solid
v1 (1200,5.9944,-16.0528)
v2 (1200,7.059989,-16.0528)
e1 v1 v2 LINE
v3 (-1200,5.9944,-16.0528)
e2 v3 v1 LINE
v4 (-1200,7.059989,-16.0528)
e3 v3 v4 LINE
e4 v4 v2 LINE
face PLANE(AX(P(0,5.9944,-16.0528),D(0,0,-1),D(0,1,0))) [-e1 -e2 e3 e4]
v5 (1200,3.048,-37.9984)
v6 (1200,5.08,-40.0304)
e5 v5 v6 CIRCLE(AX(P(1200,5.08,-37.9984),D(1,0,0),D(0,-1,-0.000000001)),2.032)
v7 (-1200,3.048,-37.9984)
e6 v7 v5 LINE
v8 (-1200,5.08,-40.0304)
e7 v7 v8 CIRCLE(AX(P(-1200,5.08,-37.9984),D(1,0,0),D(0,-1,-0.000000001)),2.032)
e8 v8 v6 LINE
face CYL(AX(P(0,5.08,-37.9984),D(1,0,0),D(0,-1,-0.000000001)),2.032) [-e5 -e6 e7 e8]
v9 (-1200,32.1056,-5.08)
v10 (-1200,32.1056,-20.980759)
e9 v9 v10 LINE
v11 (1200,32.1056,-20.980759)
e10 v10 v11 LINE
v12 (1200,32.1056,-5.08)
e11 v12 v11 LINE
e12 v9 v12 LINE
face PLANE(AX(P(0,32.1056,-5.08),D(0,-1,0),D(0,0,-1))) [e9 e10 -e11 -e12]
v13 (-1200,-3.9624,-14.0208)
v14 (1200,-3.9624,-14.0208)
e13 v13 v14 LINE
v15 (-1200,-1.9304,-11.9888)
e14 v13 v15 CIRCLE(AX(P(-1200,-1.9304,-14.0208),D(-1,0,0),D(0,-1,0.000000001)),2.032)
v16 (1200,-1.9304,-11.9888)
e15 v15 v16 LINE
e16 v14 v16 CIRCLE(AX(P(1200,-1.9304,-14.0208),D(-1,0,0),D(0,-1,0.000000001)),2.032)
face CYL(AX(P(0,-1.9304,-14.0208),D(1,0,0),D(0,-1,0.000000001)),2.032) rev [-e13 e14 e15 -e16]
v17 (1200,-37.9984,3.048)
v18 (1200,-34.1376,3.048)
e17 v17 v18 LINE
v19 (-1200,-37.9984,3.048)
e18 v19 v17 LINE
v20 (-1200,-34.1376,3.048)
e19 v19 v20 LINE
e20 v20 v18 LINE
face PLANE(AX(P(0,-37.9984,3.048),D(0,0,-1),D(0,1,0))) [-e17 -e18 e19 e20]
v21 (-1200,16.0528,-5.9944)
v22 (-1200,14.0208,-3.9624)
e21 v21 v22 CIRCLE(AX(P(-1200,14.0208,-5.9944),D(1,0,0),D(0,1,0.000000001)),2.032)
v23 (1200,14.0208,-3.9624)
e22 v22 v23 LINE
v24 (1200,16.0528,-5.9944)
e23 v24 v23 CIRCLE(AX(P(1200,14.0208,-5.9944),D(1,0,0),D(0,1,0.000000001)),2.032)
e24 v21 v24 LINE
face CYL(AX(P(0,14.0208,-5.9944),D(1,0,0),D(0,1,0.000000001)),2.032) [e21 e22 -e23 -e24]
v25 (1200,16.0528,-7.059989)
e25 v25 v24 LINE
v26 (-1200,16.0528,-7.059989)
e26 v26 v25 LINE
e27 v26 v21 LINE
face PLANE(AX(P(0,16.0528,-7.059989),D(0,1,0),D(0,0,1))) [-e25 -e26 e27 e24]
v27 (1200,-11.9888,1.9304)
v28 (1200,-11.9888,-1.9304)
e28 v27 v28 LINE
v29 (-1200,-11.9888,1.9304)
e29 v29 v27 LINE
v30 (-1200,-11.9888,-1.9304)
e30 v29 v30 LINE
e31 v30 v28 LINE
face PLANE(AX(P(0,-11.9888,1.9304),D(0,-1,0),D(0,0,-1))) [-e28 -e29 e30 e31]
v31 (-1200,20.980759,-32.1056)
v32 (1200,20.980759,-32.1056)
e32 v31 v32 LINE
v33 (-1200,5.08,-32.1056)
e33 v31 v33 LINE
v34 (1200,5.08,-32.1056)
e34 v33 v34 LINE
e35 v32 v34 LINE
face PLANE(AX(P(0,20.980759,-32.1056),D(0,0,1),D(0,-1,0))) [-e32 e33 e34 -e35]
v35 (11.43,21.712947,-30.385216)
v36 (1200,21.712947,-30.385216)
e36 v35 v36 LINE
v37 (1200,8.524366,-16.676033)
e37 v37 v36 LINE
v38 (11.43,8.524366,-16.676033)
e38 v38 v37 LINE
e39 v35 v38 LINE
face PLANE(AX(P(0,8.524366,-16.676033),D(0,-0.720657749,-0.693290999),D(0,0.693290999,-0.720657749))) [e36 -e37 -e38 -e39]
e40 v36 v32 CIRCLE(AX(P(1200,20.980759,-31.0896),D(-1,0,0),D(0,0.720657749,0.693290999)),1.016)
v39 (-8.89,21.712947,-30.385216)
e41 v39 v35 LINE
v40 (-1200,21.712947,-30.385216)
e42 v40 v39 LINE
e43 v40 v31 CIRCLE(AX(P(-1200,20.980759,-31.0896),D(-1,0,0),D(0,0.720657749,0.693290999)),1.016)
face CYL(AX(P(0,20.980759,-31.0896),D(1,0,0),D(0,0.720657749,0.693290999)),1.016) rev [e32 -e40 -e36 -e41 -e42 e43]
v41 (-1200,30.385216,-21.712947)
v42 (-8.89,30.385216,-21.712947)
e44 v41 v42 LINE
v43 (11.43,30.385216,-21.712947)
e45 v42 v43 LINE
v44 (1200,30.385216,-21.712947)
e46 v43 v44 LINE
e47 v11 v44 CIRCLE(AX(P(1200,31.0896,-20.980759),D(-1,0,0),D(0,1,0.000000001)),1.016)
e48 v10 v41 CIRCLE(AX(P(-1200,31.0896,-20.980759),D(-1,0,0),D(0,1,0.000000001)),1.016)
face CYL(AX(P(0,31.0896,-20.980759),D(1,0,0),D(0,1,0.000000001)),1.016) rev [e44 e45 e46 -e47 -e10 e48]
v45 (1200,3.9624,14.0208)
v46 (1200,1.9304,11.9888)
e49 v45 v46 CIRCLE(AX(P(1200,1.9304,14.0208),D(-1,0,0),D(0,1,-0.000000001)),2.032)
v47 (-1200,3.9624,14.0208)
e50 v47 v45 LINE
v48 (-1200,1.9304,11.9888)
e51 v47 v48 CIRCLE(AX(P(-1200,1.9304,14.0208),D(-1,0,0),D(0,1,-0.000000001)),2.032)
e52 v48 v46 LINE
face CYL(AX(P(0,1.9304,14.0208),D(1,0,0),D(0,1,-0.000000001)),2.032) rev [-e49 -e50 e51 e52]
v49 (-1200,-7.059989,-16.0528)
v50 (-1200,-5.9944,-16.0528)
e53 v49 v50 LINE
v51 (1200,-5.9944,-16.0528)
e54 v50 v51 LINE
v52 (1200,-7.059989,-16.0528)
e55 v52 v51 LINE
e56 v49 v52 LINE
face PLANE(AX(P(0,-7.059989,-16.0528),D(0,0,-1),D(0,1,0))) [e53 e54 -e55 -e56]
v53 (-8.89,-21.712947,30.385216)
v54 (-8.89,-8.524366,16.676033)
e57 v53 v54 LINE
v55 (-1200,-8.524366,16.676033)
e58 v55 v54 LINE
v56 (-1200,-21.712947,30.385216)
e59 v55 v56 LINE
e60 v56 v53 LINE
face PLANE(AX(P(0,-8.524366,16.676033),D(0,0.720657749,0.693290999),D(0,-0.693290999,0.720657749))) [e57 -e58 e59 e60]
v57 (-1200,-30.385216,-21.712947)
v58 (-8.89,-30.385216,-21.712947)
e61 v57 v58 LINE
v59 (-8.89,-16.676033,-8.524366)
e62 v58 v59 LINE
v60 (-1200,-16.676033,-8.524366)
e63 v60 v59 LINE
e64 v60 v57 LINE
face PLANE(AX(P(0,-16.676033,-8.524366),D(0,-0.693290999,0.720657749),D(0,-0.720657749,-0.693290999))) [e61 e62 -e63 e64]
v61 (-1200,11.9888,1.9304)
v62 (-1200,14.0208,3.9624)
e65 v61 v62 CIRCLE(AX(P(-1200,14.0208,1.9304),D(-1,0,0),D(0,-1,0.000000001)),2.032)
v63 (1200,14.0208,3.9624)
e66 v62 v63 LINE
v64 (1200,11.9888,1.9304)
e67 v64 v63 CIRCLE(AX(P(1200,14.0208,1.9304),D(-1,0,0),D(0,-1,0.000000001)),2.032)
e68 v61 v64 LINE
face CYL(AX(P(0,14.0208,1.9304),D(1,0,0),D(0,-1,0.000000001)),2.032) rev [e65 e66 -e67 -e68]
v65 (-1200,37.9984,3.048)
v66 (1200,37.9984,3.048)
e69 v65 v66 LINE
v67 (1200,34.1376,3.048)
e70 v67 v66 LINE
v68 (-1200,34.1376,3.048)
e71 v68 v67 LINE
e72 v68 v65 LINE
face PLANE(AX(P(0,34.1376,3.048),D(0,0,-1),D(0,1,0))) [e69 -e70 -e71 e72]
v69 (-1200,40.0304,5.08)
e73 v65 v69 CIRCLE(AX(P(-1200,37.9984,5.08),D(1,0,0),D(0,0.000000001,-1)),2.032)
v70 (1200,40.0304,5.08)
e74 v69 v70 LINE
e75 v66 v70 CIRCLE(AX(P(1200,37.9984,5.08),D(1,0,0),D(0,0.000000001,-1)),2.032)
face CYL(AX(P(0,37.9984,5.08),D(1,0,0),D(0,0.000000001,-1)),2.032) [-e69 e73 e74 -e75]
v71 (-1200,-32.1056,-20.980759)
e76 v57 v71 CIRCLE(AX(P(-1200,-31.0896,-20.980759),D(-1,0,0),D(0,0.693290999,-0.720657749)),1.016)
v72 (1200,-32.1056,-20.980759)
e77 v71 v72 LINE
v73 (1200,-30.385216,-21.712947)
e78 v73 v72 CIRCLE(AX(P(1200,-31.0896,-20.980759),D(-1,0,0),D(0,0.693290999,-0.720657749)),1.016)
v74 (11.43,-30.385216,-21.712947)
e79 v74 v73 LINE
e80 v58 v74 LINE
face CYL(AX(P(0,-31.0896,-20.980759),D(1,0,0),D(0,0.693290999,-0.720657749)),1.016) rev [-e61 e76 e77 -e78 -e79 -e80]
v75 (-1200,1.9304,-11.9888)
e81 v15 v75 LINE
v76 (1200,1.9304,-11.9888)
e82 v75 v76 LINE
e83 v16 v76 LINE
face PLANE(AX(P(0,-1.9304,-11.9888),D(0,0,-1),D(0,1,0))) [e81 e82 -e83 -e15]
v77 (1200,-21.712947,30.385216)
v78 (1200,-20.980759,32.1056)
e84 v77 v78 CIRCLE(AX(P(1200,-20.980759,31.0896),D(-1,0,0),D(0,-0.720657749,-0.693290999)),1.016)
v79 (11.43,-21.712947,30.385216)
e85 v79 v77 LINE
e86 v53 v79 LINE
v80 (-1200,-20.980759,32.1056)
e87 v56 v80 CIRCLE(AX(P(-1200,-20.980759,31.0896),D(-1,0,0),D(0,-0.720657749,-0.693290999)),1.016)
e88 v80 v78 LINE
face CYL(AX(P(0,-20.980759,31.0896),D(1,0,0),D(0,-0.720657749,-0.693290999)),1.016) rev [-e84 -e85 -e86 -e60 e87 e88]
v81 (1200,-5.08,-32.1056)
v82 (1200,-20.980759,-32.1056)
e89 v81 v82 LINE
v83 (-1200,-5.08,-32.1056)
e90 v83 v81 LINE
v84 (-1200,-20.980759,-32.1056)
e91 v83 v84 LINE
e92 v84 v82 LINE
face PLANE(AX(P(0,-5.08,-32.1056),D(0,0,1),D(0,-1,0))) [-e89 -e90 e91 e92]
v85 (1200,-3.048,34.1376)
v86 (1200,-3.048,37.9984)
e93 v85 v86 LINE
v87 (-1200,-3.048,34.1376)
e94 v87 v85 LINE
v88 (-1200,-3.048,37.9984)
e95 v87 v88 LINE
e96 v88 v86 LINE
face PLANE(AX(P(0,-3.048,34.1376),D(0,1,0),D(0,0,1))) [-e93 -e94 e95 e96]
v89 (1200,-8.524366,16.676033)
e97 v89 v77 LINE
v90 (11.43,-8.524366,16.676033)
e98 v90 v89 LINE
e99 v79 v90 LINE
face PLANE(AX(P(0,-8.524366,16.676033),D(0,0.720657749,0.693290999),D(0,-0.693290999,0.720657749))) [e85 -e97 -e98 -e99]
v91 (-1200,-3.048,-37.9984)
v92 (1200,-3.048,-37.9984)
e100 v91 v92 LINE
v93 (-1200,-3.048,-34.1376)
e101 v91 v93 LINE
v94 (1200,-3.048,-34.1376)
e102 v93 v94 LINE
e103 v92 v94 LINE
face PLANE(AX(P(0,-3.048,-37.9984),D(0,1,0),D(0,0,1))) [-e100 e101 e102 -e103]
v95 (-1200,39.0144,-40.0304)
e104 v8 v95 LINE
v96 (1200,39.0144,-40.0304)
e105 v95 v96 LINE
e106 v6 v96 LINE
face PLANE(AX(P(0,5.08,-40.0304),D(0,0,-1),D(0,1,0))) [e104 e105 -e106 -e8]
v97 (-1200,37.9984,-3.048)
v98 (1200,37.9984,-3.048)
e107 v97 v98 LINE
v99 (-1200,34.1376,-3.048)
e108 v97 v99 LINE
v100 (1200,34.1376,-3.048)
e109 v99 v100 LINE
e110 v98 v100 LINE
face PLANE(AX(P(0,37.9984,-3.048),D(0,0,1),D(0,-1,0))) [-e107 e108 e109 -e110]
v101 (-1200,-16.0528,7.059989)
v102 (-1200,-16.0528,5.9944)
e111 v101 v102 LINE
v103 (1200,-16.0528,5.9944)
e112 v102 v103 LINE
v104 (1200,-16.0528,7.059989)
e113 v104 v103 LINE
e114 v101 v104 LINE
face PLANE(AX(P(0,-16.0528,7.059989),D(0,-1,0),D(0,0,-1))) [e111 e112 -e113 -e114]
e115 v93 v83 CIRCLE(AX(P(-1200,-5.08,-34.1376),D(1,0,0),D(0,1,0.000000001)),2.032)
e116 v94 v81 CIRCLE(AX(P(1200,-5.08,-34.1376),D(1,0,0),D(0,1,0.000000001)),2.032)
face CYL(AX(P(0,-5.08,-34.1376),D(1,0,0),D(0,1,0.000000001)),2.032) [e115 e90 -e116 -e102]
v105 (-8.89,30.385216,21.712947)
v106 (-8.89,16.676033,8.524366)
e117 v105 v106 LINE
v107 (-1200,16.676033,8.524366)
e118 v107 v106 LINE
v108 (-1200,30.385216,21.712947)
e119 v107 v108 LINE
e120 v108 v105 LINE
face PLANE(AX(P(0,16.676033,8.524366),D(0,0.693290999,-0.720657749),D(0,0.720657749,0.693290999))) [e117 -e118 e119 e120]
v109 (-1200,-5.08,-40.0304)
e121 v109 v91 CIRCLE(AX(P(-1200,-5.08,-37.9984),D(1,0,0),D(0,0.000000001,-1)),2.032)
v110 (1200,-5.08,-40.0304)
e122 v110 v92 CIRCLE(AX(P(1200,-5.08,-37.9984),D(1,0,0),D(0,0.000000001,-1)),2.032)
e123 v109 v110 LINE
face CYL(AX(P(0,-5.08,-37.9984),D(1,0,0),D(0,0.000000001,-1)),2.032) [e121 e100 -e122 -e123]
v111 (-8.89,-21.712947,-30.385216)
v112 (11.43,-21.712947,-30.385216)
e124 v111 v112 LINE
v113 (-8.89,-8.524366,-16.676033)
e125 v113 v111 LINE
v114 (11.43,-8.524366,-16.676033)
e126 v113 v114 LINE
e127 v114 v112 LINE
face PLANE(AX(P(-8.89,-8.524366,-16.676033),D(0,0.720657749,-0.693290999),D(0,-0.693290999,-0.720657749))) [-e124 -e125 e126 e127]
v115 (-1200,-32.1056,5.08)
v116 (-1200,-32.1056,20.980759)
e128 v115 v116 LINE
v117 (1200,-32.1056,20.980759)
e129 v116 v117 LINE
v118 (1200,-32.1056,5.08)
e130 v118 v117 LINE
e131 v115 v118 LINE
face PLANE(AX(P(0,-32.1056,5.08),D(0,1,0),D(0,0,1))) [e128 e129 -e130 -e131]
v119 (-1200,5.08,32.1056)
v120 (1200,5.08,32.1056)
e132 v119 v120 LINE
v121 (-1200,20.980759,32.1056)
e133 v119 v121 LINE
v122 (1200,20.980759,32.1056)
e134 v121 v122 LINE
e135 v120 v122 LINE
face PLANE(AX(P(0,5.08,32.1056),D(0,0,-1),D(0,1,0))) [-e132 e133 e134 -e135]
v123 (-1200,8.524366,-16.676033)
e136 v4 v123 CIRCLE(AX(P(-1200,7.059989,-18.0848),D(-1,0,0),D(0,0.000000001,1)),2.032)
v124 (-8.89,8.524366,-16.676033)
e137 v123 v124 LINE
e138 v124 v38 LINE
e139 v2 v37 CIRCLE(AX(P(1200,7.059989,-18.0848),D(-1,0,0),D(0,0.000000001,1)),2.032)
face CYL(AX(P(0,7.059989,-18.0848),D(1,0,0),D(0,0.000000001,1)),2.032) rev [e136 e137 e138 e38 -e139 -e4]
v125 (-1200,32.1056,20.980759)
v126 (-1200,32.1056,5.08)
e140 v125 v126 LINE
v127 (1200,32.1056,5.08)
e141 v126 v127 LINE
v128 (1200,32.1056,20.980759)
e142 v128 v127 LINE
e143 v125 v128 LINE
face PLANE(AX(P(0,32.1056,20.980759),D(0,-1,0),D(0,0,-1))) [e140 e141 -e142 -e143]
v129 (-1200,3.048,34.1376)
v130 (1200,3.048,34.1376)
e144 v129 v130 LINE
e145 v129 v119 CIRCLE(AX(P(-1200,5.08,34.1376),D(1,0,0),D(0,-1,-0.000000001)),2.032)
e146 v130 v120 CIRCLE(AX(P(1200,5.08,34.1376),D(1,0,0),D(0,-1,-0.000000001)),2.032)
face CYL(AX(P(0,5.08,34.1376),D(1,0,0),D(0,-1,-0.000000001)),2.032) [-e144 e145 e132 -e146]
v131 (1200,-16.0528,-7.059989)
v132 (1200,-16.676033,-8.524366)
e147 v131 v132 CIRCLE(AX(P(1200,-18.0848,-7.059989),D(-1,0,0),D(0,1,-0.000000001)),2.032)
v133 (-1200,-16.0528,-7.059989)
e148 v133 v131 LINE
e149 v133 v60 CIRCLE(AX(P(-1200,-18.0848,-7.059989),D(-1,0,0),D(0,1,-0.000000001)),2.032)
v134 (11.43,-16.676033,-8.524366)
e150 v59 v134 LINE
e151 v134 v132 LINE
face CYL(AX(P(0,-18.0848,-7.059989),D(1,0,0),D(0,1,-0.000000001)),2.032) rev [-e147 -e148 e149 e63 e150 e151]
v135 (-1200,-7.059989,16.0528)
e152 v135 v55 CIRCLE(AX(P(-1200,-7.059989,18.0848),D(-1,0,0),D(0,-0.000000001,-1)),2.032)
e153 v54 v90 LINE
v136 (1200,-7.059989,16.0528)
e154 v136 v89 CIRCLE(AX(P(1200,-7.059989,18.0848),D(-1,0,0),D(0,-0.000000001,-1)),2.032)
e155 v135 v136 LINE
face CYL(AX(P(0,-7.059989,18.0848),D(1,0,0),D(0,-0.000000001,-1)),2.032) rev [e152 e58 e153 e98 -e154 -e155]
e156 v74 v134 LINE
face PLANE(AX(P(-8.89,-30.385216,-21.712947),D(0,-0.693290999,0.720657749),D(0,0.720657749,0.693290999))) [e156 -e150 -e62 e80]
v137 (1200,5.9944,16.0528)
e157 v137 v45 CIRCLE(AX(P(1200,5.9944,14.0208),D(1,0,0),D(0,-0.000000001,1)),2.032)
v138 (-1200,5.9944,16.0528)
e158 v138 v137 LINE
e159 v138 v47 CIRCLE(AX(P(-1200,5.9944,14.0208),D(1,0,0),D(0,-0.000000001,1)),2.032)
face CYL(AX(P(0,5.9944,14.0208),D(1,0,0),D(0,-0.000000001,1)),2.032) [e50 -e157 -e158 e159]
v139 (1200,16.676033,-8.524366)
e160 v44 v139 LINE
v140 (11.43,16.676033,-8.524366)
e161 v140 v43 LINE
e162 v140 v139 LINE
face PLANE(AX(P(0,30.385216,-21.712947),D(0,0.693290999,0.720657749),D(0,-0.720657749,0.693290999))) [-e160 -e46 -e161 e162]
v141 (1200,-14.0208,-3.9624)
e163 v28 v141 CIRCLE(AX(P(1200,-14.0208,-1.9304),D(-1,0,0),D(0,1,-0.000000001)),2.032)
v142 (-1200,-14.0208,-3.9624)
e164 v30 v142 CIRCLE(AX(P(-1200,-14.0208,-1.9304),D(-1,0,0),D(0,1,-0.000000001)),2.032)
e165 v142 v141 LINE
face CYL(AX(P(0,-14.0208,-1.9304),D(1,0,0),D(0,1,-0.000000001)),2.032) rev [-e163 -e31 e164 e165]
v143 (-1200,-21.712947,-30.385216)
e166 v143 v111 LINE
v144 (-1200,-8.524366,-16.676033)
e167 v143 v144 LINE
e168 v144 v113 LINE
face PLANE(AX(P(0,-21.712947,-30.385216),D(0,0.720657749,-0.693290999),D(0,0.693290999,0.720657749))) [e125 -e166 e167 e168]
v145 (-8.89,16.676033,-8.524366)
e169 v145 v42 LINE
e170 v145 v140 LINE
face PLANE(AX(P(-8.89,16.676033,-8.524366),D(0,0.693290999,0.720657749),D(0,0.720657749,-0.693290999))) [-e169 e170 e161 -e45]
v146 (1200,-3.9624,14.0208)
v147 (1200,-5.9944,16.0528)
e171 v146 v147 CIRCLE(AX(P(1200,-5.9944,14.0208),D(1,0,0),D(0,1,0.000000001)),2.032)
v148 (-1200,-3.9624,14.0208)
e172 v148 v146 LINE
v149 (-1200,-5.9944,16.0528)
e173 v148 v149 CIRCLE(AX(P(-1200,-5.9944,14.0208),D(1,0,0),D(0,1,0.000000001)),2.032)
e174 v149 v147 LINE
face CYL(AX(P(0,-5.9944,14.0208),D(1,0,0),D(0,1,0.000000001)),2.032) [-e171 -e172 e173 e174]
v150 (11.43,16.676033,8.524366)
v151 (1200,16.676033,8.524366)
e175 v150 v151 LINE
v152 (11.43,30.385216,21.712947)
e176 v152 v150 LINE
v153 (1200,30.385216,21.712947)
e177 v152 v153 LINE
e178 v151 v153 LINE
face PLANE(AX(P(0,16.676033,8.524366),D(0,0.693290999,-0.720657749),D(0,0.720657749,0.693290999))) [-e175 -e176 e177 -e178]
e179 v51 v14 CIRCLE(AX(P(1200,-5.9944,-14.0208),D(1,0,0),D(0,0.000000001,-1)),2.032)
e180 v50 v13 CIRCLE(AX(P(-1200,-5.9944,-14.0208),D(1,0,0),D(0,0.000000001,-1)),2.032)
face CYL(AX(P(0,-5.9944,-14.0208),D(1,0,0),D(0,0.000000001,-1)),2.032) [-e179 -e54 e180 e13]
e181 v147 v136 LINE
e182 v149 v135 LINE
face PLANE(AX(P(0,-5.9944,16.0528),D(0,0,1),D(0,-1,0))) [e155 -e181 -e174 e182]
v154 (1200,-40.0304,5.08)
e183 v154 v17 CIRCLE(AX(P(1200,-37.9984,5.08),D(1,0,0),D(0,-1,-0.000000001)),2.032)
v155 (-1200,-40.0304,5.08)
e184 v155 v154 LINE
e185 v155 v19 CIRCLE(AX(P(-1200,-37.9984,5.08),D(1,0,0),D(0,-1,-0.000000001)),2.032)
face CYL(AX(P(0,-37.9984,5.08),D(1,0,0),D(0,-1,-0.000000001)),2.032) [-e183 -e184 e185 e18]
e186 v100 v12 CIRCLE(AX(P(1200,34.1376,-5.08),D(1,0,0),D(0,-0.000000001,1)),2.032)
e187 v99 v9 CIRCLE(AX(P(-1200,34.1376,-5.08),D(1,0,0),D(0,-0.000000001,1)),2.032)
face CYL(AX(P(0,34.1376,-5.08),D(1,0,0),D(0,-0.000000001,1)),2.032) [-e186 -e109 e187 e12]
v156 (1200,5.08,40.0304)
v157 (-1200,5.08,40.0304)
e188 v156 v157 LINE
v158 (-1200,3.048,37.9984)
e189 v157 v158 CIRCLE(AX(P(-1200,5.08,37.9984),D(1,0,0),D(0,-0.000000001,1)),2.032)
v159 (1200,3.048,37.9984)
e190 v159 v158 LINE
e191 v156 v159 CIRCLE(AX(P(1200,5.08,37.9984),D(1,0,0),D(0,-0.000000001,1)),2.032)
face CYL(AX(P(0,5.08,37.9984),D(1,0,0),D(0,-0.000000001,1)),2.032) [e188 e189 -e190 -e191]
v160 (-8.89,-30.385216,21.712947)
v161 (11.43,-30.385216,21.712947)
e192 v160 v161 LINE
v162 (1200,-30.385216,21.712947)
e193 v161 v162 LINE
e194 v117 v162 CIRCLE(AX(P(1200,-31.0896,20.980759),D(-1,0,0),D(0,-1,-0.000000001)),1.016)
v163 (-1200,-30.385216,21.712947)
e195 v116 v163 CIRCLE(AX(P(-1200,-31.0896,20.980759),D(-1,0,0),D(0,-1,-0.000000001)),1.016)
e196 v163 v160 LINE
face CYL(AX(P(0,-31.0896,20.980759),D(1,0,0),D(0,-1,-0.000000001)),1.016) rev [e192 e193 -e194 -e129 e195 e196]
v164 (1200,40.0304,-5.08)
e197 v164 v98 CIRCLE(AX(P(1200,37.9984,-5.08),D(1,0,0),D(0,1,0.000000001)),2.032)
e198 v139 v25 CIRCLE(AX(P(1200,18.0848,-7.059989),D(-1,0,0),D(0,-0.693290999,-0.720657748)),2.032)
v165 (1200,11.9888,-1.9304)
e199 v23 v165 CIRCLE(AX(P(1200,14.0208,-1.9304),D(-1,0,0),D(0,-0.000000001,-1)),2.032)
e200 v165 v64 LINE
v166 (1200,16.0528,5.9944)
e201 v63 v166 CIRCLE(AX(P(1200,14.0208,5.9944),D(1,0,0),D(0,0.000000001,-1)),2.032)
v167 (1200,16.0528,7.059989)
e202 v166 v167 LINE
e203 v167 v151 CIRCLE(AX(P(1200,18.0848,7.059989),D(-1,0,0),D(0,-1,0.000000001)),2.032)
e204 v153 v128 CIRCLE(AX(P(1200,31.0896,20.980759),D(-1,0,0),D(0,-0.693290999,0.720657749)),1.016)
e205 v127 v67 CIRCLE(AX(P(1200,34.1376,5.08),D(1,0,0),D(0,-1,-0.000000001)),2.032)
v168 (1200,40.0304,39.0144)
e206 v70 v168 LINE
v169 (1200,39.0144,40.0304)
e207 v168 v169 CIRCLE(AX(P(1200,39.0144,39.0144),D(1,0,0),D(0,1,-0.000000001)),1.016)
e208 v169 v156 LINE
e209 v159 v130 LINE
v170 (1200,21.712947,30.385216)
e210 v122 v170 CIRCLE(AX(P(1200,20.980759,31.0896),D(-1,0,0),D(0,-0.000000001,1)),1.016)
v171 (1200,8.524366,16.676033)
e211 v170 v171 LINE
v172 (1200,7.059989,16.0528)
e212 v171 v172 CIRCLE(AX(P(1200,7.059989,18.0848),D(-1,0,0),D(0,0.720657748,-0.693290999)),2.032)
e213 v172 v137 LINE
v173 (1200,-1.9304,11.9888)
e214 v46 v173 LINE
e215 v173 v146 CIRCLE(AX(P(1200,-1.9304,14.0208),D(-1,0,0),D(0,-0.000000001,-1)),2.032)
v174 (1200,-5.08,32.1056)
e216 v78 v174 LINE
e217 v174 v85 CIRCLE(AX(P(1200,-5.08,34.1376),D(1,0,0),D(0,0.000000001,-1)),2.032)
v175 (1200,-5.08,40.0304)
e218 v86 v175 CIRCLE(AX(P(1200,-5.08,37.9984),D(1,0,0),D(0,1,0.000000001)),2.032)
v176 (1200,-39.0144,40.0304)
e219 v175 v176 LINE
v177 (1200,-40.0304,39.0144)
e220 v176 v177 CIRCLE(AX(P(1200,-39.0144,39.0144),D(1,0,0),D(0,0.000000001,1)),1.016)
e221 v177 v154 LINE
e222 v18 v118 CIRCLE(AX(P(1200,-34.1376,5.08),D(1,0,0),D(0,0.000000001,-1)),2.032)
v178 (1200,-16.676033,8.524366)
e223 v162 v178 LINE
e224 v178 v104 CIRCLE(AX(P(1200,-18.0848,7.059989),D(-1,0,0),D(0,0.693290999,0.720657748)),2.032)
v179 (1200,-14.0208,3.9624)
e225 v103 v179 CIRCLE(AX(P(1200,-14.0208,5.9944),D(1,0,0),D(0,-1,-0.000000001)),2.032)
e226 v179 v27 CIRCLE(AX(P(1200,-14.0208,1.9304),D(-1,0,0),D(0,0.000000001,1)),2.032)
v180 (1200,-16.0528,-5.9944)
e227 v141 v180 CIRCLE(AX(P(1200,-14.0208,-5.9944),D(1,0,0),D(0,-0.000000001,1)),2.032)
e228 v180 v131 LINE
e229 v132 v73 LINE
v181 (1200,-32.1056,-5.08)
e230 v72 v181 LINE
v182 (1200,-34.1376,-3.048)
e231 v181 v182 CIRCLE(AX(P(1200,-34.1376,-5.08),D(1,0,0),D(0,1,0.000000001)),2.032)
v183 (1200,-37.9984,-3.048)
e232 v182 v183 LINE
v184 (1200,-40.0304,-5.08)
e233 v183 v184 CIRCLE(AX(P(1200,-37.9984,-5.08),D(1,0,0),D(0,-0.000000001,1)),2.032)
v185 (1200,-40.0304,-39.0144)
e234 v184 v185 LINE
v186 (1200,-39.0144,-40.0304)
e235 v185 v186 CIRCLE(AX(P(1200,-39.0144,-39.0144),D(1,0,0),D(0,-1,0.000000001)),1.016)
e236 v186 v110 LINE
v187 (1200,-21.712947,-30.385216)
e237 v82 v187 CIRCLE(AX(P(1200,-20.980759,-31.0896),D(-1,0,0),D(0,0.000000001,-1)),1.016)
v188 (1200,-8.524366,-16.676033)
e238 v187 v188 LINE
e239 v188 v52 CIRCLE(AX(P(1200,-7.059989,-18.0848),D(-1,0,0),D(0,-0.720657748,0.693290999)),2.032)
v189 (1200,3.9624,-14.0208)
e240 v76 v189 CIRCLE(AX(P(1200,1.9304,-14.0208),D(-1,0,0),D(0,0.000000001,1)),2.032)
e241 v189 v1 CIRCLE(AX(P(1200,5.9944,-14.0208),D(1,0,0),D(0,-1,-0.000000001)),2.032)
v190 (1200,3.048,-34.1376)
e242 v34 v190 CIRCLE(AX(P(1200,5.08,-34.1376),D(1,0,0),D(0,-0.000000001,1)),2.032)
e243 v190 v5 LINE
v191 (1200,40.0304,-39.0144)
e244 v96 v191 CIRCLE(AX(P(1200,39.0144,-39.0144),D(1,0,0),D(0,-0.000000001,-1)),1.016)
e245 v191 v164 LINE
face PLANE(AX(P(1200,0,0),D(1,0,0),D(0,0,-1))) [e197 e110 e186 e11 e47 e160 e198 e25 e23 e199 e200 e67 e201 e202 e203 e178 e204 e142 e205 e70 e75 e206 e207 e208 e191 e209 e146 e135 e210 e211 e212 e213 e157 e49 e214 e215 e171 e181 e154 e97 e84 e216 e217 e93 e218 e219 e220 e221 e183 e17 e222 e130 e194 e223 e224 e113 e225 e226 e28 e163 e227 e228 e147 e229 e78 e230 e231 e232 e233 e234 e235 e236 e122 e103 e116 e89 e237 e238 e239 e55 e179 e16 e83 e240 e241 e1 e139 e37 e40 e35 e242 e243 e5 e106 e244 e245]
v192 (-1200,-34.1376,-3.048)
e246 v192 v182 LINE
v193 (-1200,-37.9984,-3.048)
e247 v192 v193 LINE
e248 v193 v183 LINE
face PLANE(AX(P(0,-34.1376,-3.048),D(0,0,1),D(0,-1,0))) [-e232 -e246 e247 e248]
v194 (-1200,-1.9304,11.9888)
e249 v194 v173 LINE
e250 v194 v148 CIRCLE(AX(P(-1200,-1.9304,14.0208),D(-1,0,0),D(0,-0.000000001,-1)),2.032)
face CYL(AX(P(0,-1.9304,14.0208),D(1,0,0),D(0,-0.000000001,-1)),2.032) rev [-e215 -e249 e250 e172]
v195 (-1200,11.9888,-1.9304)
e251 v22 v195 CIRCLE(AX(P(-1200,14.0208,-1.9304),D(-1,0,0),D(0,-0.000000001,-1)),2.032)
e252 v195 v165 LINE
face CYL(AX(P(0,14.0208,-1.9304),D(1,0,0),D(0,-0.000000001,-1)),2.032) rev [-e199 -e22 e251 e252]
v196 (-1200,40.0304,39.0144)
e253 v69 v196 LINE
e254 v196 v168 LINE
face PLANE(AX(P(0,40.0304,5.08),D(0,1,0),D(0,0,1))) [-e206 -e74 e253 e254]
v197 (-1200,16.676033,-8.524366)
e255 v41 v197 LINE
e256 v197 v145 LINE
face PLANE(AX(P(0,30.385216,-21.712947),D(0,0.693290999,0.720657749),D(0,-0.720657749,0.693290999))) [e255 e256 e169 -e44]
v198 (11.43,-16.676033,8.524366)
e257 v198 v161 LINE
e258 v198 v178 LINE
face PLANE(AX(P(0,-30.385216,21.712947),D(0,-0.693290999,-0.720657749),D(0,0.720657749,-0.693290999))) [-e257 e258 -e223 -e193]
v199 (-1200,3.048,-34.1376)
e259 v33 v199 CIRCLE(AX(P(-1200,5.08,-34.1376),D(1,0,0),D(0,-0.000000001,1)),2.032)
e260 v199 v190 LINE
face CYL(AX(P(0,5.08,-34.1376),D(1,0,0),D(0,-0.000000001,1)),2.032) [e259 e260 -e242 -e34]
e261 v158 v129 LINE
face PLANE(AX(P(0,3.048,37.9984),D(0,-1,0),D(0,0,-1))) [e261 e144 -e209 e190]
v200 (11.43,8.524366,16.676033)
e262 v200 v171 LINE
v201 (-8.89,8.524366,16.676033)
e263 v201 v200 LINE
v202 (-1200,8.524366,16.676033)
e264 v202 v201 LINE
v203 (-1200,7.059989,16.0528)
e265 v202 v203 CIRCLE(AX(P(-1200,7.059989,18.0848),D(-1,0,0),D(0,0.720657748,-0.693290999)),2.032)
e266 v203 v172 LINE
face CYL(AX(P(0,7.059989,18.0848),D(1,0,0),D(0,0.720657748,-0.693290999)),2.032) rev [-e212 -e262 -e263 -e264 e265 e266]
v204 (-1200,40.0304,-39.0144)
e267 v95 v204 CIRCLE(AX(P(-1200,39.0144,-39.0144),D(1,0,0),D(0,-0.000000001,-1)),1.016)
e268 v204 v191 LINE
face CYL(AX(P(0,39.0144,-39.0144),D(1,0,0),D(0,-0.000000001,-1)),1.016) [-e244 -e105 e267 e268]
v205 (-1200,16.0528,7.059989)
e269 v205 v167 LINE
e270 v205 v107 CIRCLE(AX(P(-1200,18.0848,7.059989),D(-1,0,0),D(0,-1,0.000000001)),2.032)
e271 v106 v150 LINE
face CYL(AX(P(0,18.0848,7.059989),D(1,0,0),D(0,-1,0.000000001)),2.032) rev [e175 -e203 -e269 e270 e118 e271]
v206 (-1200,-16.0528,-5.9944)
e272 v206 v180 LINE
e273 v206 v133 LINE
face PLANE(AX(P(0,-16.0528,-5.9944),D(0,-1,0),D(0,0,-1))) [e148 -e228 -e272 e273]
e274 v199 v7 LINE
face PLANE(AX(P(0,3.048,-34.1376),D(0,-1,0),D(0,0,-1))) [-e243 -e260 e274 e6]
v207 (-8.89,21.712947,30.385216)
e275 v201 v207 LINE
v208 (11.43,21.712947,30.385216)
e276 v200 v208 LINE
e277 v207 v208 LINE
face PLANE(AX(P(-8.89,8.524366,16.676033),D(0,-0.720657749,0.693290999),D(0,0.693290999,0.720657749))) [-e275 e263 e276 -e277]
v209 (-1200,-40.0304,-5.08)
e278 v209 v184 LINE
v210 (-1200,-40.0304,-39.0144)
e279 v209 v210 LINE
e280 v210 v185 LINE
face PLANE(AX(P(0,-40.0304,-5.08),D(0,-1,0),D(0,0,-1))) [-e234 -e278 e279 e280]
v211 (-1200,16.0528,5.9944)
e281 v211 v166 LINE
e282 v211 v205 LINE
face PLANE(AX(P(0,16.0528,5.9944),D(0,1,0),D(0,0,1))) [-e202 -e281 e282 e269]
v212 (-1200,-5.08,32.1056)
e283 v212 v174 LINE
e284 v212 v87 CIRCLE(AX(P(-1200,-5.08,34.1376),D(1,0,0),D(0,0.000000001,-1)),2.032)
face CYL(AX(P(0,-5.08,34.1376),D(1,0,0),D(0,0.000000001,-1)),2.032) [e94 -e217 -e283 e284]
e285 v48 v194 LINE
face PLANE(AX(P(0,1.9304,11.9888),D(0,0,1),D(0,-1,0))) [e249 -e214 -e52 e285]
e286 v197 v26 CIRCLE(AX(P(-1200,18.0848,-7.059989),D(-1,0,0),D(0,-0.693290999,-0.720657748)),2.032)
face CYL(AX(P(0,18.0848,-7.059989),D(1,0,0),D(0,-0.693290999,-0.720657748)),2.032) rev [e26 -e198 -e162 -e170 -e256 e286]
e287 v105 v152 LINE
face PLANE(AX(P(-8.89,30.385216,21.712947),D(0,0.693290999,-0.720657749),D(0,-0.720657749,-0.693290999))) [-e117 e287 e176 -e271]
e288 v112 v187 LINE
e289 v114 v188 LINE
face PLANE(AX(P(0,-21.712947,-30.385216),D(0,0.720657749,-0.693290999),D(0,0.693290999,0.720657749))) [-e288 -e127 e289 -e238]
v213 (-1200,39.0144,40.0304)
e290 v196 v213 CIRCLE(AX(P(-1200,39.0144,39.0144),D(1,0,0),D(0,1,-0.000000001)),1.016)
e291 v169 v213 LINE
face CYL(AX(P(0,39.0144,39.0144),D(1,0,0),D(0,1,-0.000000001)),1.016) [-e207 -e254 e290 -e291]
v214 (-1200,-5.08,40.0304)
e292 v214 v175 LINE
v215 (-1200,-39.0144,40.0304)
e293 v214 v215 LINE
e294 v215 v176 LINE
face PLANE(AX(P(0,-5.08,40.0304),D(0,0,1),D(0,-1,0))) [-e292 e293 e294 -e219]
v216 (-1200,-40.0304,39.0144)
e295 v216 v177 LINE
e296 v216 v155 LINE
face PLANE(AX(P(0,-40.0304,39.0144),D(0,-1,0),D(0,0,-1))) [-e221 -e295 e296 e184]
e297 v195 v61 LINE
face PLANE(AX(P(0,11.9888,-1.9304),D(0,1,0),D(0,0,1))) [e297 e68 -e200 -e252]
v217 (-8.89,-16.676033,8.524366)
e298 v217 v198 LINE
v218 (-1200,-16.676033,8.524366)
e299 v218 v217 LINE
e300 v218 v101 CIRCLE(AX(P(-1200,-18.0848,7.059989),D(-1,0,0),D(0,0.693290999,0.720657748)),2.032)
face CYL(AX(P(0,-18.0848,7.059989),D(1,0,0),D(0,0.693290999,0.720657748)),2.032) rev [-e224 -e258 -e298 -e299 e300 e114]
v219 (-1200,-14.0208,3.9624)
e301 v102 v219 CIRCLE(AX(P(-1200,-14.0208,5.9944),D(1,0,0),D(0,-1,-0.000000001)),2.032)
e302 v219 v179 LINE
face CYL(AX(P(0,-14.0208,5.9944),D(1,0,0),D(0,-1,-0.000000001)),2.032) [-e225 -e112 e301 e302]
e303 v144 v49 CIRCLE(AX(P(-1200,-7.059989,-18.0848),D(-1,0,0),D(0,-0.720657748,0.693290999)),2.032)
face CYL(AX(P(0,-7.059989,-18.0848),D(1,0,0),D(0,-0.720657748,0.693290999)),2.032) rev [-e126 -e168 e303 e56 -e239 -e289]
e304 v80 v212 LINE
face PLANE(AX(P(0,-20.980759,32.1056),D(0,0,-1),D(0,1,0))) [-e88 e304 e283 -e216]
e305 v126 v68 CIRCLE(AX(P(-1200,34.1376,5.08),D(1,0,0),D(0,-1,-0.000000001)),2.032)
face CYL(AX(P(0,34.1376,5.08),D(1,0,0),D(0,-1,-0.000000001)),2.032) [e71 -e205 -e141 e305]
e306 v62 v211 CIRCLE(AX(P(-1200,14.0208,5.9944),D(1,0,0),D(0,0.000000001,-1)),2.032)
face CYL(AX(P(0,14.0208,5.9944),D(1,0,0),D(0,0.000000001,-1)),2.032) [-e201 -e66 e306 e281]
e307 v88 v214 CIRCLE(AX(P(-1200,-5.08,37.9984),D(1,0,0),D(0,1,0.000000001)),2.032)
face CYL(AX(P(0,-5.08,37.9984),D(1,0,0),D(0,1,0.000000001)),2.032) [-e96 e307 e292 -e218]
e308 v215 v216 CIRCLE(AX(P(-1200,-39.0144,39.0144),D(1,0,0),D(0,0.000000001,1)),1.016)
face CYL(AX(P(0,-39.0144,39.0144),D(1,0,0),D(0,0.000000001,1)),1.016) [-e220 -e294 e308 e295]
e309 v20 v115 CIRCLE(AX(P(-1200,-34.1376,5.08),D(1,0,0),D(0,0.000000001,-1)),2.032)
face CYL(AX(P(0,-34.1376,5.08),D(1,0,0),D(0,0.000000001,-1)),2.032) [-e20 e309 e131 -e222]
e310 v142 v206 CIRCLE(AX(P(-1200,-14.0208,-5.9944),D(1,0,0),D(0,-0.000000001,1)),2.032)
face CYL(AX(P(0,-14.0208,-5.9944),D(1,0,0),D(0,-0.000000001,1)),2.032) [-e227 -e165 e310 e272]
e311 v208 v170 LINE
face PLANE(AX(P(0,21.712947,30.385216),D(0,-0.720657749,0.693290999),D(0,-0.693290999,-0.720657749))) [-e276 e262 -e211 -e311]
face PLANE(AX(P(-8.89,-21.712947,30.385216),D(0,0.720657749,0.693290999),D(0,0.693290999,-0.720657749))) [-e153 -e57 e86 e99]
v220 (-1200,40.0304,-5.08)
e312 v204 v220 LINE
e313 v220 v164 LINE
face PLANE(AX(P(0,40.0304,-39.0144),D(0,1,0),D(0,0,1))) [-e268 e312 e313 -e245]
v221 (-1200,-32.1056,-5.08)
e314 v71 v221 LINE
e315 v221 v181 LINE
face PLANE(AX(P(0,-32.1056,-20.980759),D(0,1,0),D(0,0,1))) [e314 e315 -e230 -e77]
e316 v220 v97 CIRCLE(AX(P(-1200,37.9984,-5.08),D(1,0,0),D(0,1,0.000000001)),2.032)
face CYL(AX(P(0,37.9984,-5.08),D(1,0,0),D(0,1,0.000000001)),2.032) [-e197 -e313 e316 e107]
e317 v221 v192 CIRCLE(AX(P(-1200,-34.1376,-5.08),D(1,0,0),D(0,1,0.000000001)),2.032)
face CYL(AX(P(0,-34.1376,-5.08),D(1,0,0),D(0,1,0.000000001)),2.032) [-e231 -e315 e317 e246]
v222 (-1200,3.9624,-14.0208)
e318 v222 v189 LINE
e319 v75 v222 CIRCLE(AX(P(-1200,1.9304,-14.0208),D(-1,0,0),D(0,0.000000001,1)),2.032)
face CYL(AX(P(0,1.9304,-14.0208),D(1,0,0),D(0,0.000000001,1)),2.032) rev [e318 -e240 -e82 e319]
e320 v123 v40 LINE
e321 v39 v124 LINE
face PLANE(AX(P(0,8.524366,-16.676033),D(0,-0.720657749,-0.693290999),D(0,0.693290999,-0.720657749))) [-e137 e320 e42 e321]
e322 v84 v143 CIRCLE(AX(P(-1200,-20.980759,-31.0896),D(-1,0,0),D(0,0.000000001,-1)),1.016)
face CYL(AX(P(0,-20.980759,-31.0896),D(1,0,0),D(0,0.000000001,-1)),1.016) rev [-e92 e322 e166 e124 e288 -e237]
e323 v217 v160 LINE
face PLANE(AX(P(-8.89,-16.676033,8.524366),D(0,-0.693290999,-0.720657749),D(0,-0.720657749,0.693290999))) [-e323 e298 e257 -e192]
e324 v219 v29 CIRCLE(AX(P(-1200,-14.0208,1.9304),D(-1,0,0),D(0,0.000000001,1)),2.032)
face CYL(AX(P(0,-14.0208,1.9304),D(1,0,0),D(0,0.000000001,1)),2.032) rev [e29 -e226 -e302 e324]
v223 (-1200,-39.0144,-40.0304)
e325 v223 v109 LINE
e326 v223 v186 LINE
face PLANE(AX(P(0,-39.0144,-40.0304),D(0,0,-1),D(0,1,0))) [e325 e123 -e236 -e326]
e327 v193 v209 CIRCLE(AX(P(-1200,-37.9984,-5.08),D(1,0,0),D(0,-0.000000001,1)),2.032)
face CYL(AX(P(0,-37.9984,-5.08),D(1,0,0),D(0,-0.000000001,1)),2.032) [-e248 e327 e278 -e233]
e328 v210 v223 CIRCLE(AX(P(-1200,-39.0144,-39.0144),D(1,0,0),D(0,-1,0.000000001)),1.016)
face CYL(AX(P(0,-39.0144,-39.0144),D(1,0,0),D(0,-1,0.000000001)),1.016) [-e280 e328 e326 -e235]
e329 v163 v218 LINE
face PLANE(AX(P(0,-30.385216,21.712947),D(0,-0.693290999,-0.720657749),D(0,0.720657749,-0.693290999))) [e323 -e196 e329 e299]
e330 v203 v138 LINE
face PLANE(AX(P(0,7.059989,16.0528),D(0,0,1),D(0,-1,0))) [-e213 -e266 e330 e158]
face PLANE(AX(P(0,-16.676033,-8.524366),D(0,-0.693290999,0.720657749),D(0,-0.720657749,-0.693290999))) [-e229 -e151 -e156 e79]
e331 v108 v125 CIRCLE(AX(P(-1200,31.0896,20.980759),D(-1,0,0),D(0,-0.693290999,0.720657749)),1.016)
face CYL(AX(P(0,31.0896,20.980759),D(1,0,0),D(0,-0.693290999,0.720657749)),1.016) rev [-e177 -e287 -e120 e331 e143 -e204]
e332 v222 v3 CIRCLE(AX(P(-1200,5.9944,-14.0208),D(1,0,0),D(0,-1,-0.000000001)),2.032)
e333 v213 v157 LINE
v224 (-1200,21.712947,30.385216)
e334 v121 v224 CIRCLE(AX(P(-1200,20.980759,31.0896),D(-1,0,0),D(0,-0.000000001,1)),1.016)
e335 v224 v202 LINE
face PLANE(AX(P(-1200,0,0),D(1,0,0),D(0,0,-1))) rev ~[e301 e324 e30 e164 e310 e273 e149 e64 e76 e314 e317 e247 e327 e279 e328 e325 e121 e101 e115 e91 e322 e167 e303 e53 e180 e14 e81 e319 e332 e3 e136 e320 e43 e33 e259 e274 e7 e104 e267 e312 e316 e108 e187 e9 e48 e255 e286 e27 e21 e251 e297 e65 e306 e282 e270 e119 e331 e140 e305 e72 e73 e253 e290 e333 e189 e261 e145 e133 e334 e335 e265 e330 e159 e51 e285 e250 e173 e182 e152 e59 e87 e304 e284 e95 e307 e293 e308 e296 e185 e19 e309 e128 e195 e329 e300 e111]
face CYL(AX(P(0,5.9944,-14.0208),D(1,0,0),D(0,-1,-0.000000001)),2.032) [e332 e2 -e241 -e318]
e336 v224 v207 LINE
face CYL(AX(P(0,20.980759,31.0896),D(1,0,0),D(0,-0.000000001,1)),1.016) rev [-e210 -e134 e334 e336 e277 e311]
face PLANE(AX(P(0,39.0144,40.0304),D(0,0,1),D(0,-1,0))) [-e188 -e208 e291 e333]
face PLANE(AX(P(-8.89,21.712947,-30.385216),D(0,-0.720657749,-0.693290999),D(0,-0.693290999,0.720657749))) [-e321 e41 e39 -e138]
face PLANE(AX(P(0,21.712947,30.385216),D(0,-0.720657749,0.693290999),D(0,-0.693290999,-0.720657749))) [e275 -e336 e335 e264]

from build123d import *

# Parameters (mm, degrees)
BOSS_EXTRUDE1_DEPTH = 2.54
SCALE1_SCALE        = 8
BOSS_EXTRUDE2_DEPTH = 1200


with BuildPart() as part:
    # Sketch1 → Boss-Extrude1 (new body)
    with BuildSketch(Plane(origin=(0, 0, 0), x_dir=(0, 0, -1), z_dir=(1, 0, 0))):
        with BuildLine():
            Line((-0.2413, 1.4986), (0.2413, 1.4986))
            ThreePointArc((0.2413, 1.4986), (0.420905122, 1.572994878), (0.4953, 1.7526))
            ThreePointArc((0.4953, 1.7526), (0.569694878, 1.932205122), (0.7493, 2.0066))
            Line((0.7493, 2.0066), (0.882498635, 2.0066))
            ThreePointArc((0.882498635, 2.0066), (0.981966313, 2.026886113), (1.065545703, 2.084504086))
            Line((1.065545703, 2.084504086), (2.714118421, 3.798152043))
            ThreePointArc((2.714118421, 3.798152043), (2.739451831, 3.935933839), (2.622594887, 4.0132))
            Line((2.622594887, 4.0132), (0.635, 4.0132))
            ThreePointArc((0.635, 4.0132), (0.455394878, 4.087594878), (0.381, 4.2672))
            Line((0.381, 4.2672), (0.381, 4.7498))
            ThreePointArc((0.381, 4.7498), (0.455394878, 4.929405122), (0.635, 5.0038))
            Line((0.635, 5.0038), (4.8768, 5.0038))
            ThreePointArc((4.8768, 5.0038), (4.966602561, 4.966602561), (5.0038, 4.8768))
            Line((5.0038, 4.8768), (5.0038, 0.635))
            ThreePointArc((5.0038, 0.635), (4.929405122, 0.455394878), (4.7498, 0.381))
            Line((4.7498, 0.381), (4.2672, 0.381))
            ThreePointArc((4.2672, 0.381), (4.087594878, 0.455394878), (4.0132, 0.635))
            Line((4.0132, 0.635), (4.0132, 2.622594887))
            ThreePointArc((4.0132, 2.622594887), (3.935933839, 2.739451831), (3.798152043, 2.714118421))
            Line((3.798152043, 2.714118421), (2.084504086, 1.065545703))
            ThreePointArc((2.084504086, 1.065545703), (2.026886113, 0.981966313), (2.0066, 0.882498635))
            Line((2.0066, 0.882498635), (2.0066, 0.7493))
            ThreePointArc((2.0066, 0.7493), (1.932205122, 0.569694878), (1.7526, 0.4953))
            ThreePointArc((1.7526, 0.4953), (1.572994878, 0.420905122), (1.4986, 0.2413))
            Line((1.4986, 0.2413), (1.4986, -0.2413))
            ThreePointArc((1.4986, -0.2413), (1.572994878, -0.420905122), (1.7526, -0.4953))
            ThreePointArc((1.7526, -0.4953), (1.932205122, -0.569694878), (2.0066, -0.7493))
            Line((2.0066, -0.7493), (2.0066, -0.882498635))
            ThreePointArc((2.0066, -0.882498635), (2.026886113, -0.981966313), (2.084504086, -1.065545703))
            Line((2.084504086, -1.065545703), (3.798152043, -2.714118421))
            ThreePointArc((3.798152043, -2.714118421), (3.935933839, -2.739451831), (4.0132, -2.622594887))
            Line((4.0132, -2.622594887), (4.0132, -0.635))
            ThreePointArc((4.0132, -0.635), (4.087594878, -0.455394878), (4.2672, -0.381))
            Line((4.2672, -0.381), (4.7498, -0.381))
            ThreePointArc((4.7498, -0.381), (4.929405122, -0.455394878), (5.0038, -0.635))
            Line((5.0038, -0.635), (5.0038, -4.8768))
            ThreePointArc((5.0038, -4.8768), (4.966602561, -4.966602561), (4.8768, -5.0038))
            Line((4.8768, -5.0038), (0.635, -5.0038))
            ThreePointArc((0.635, -5.0038), (0.455394878, -4.929405122), (0.381, -4.7498))
            Line((0.381, -4.7498), (0.381, -4.2672))
            ThreePointArc((0.381, -4.2672), (0.455394878, -4.087594878), (0.635, -4.0132))
            Line((0.635, -4.0132), (2.622594887, -4.0132))
            ThreePointArc((2.622594887, -4.0132), (2.739451831, -3.935933839), (2.714118421, -3.798152043))
            Line((2.714118421, -3.798152043), (1.065545703, -2.084504086))
            ThreePointArc((1.065545703, -2.084504086), (0.981966313, -2.026886113), (0.882498635, -2.0066))
            Line((0.882498635, -2.0066), (0.7493, -2.0066))
            ThreePointArc((0.7493, -2.0066), (0.569694878, -1.932205122), (0.4953, -1.7526))
            ThreePointArc((0.4953, -1.7526), (0.420905122, -1.572994878), (0.2413, -1.4986))
            Line((0.2413, -1.4986), (-0.2413, -1.4986))
            ThreePointArc((-0.2413, -1.4986), (-0.420905122, -1.572994878), (-0.4953, -1.7526))
            ThreePointArc((-0.4953, -1.7526), (-0.569694878, -1.932205122), (-0.7493, -2.0066))
            Line((-0.7493, -2.0066), (-0.882498635, -2.0066))
            ThreePointArc((-0.882498635, -2.0066), (-0.981966313, -2.026886113), (-1.065545703, -2.084504086))
            Line((-1.065545703, -2.084504086), (-2.714118421, -3.798152043))
            ThreePointArc((-2.714118421, -3.798152043), (-2.739451831, -3.935933839), (-2.622594887, -4.0132))
            Line((-2.622594887, -4.0132), (-0.635, -4.0132))
            ThreePointArc((-0.635, -4.0132), (-0.455394878, -4.087594878), (-0.381, -4.2672))
            Line((-0.381, -4.2672), (-0.381, -4.7498))
            ThreePointArc((-0.381, -4.7498), (-0.455394878, -4.929405122), (-0.635, -5.0038))
            Line((-0.635, -5.0038), (-4.8768, -5.0038))
            ThreePointArc((-4.8768, -5.0038), (-4.966602561, -4.966602561), (-5.0038, -4.8768))
            Line((-5.0038, -4.8768), (-5.0038, -0.635))
            ThreePointArc((-5.0038, -0.635), (-4.929405122, -0.455394878), (-4.7498, -0.381))
            Line((-4.7498, -0.381), (-4.2672, -0.381))
            ThreePointArc((-4.2672, -0.381), (-4.087594878, -0.455394878), (-4.0132, -0.635))
            Line((-4.0132, -0.635), (-4.0132, -2.622594887))
            ThreePointArc((-4.0132, -2.622594887), (-3.935933839, -2.739451831), (-3.798152043, -2.714118421))
            Line((-3.798152043, -2.714118421), (-2.084504086, -1.065545703))
            ThreePointArc((-2.084504086, -1.065545703), (-2.026886113, -0.981966313), (-2.0066, -0.882498635))
            Line((-2.0066, -0.882498635), (-2.0066, -0.7493))
            ThreePointArc((-2.0066, -0.7493), (-1.932205122, -0.569694878), (-1.7526, -0.4953))
            ThreePointArc((-1.7526, -0.4953), (-1.572994878, -0.420905122), (-1.4986, -0.2413))
            Line((-1.4986, -0.2413), (-1.4986, 0.2413))
            ThreePointArc((-1.4986, 0.2413), (-1.572994878, 0.420905122), (-1.7526, 0.4953))
            ThreePointArc((-1.7526, 0.4953), (-1.932205122, 0.569694878), (-2.0066, 0.7493))
            Line((-2.0066, 0.7493), (-2.0066, 0.882498635))
            ThreePointArc((-2.0066, 0.882498635), (-2.026886113, 0.981966313), (-2.084504086, 1.065545703))
            Line((-2.084504086, 1.065545703), (-3.798152043, 2.714118421))
            ThreePointArc((-3.798152043, 2.714118421), (-3.935933839, 2.739451831), (-4.0132, 2.622594887))
            Line((-4.0132, 2.622594887), (-4.0132, 0.635))
            ThreePointArc((-4.0132, 0.635), (-4.087594878, 0.455394878), (-4.2672, 0.381))
            Line((-4.2672, 0.381), (-4.7498, 0.381))
            ThreePointArc((-4.7498, 0.381), (-4.929405122, 0.455394878), (-5.0038, 0.635))
            Line((-5.0038, 0.635), (-5.0038, 4.8768))
            ThreePointArc((-5.0038, 4.8768), (-4.966602561, 4.966602561), (-4.8768, 5.0038))
            Line((-4.8768, 5.0038), (-0.635, 5.0038))
            ThreePointArc((-0.635, 5.0038), (-0.455394878, 4.929405122), (-0.381, 4.7498))
            Line((-0.381, 4.7498), (-0.381, 4.2672))
            ThreePointArc((-0.381, 4.2672), (-0.455394878, 4.087594878), (-0.635, 4.0132))
            Line((-0.635, 4.0132), (-2.622594887, 4.0132))
            ThreePointArc((-2.622594887, 4.0132), (-2.739451831, 3.935933839), (-2.714118421, 3.798152043))
            Line((-2.714118421, 3.798152043), (-1.065545703, 2.084504086))
            ThreePointArc((-1.065545703, 2.084504086), (-0.981966313, 2.026886113), (-0.882498635, 2.0066))
            Line((-0.882498635, 2.0066), (-0.7493, 2.0066))
            ThreePointArc((-0.7493, 2.0066), (-0.569694878, 1.932205122), (-0.4953, 1.7526))
            ThreePointArc((-0.4953, 1.7526), (-0.420905122, 1.572994878), (-0.2413, 1.4986))
        make_face()
    extrude(amount=BOSS_EXTRUDE1_DEPTH)


with BuildPart() as part_1:
    # Scale1: scaled about (1.27, 0, 0)
    add(part.part.scale(SCALE1_SCALE).moved(Location((-8.89, 0, 0))))

    # Sketch2 → Boss-Extrude2 (add, symmetric)
    with BuildSketch(Plane(origin=(0, 0, 0), x_dir=(0, 0, -1), z_dir=(1, 0, 0))):
        with BuildLine():
            Line((-37.9984, 3.048), (-34.1376, 3.048))
            ThreePointArc((-34.1376, 3.048), (-32.700759021, 3.643159021), (-32.1056, 5.08))
            Line((-32.1056, 5.08), (-32.1056, 20.980759097))
            ThreePointArc((-32.1056, 20.980759097), (-31.487470712, 21.915614646), (-30.385216345, 21.71294737))
            Line((-30.385216345, 21.71294737), (-16.67603269, 8.524365626))
            ThreePointArc((-16.67603269, 8.524365626), (-16.215088903, 7.855730504), (-16.0528, 7.059989081))
            Line((-16.0528, 7.059989081), (-16.0528, 5.9944))
            ThreePointArc((-16.0528, 5.9944), (-15.457640979, 4.557559021), (-14.0208, 3.9624))
            ThreePointArc((-14.0208, 3.9624), (-12.583959021, 3.367240979), (-11.9888, 1.9304))
            Line((-11.9888, 1.9304), (-11.9888, -1.9304))
            ThreePointArc((-11.9888, -1.9304), (-12.583959021, -3.367240979), (-14.0208, -3.9624))
            ThreePointArc((-14.0208, -3.9624), (-15.457640979, -4.557559021), (-16.0528, -5.9944))
            Line((-16.0528, -5.9944), (-16.0528, -7.059989081))
            ThreePointArc((-16.0528, -7.059989081), (-16.215088903, -7.855730504), (-16.67603269, -8.524365626))
            Line((-16.67603269, -8.524365626), (-30.385216345, -21.71294737))
            ThreePointArc((-30.385216345, -21.71294737), (-31.487470712, -21.915614646), (-32.1056, -20.980759097))
            Line((-32.1056, -20.980759097), (-32.1056, -5.08))
            ThreePointArc((-32.1056, -5.08), (-32.700759021, -3.643159021), (-34.1376, -3.048))
            Line((-34.1376, -3.048), (-37.9984, -3.048))
            ThreePointArc((-37.9984, -3.048), (-39.435240979, -3.643159021), (-40.0304, -5.08))
            Line((-40.0304, -5.08), (-40.0304, -39.0144))
            ThreePointArc((-40.0304, -39.0144), (-39.73282049, -39.73282049), (-39.0144, -40.0304))
            Line((-39.0144, -40.0304), (-5.08, -40.0304))
            ThreePointArc((-5.08, -40.0304), (-3.643159021, -39.435240979), (-3.048, -37.9984))
            Line((-3.048, -37.9984), (-3.048, -34.1376))
            ThreePointArc((-3.048, -34.1376), (-3.643159021, -32.700759021), (-5.08, -32.1056))
            Line((-5.08, -32.1056), (-20.980759097, -32.1056))
            ThreePointArc((-20.980759097, -32.1056), (-21.915614646, -31.487470712), (-21.71294737, -30.385216345))
            Line((-21.71294737, -30.385216345), (-8.524365626, -16.67603269))
            ThreePointArc((-8.524365626, -16.67603269), (-7.855730504, -16.215088903), (-7.059989081, -16.0528))
            Line((-7.059989081, -16.0528), (-5.9944, -16.0528))
            ThreePointArc((-5.9944, -16.0528), (-4.557559021, -15.457640979), (-3.9624, -14.0208))
            ThreePointArc((-3.9624, -14.0208), (-3.367240979, -12.583959021), (-1.9304, -11.9888))
            Line((-1.9304, -11.9888), (1.9304, -11.9888))
            ThreePointArc((1.9304, -11.9888), (3.367240979, -12.583959021), (3.9624, -14.0208))
            ThreePointArc((3.9624, -14.0208), (4.557559021, -15.457640979), (5.9944, -16.0528))
            Line((5.9944, -16.0528), (7.059989081, -16.0528))
            ThreePointArc((7.059989081, -16.0528), (7.855730504, -16.215088903), (8.524365626, -16.67603269))
            Line((8.524365626, -16.67603269), (21.71294737, -30.385216345))
            ThreePointArc((21.71294737, -30.385216345), (21.915614646, -31.487470712), (20.980759097, -32.1056))
            Line((20.980759097, -32.1056), (5.08, -32.1056))
            ThreePointArc((5.08, -32.1056), (3.643159021, -32.700759021), (3.048, -34.1376))
            Line((3.048, -34.1376), (3.048, -37.9984))
            ThreePointArc((3.048, -37.9984), (3.643159021, -39.435240979), (5.08, -40.0304))
            Line((5.08, -40.0304), (39.0144, -40.0304))
            ThreePointArc((39.0144, -40.0304), (39.73282049, -39.73282049), (40.0304, -39.0144))
            Line((40.0304, -39.0144), (40.0304, -5.08))
            ThreePointArc((40.0304, -5.08), (39.435240979, -3.643159021), (37.9984, -3.048))
            Line((37.9984, -3.048), (34.1376, -3.048))
            ThreePointArc((34.1376, -3.048), (32.700759021, -3.643159021), (32.1056, -5.08))
            Line((32.1056, -5.08), (32.1056, -20.980759097))
            ThreePointArc((32.1056, -20.980759097), (31.487470712, -21.915614646), (30.385216345, -21.71294737))
            Line((30.385216345, -21.71294737), (16.67603269, -8.524365626))
            ThreePointArc((16.67603269, -8.524365626), (16.215088903, -7.855730504), (16.0528, -7.059989081))
            Line((16.0528, -7.059989081), (16.0528, -5.9944))
            ThreePointArc((16.0528, -5.9944), (15.457640979, -4.557559021), (14.0208, -3.9624))
            ThreePointArc((14.0208, -3.9624), (12.583959021, -3.367240979), (11.9888, -1.9304))
            Line((11.9888, -1.9304), (11.9888, 1.9304))
            ThreePointArc((11.9888, 1.9304), (12.583959021, 3.367240979), (14.0208, 3.9624))
            ThreePointArc((14.0208, 3.9624), (15.457640979, 4.557559021), (16.0528, 5.9944))
            Line((16.0528, 5.9944), (16.0528, 7.059989081))
            ThreePointArc((16.0528, 7.059989081), (16.215088903, 7.855730504), (16.67603269, 8.524365626))
            Line((16.67603269, 8.524365626), (30.385216345, 21.71294737))
            ThreePointArc((30.385216345, 21.71294737), (31.487470712, 21.915614646), (32.1056, 20.980759097))
            Line((32.1056, 20.980759097), (32.1056, 5.08))
            ThreePointArc((32.1056, 5.08), (32.700759021, 3.643159021), (34.1376, 3.048))
            Line((34.1376, 3.048), (37.9984, 3.048))
            ThreePointArc((37.9984, 3.048), (39.435240979, 3.643159021), (40.0304, 5.08))
            Line((40.0304, 5.08), (40.0304, 39.0144))
            ThreePointArc((40.0304, 39.0144), (39.73282049, 39.73282049), (39.0144, 40.0304))
            Line((39.0144, 40.0304), (5.08, 40.0304))
            ThreePointArc((5.08, 40.0304), (3.643159021, 39.435240979), (3.048, 37.9984))
            Line((3.048, 37.9984), (3.048, 34.1376))
            ThreePointArc((3.048, 34.1376), (3.643159021, 32.700759021), (5.08, 32.1056))
            Line((5.08, 32.1056), (20.980759097, 32.1056))
            ThreePointArc((20.980759097, 32.1056), (21.915614646, 31.487470712), (21.71294737, 30.385216345))
            Line((21.71294737, 30.385216345), (8.524365626, 16.67603269))
            ThreePointArc((8.524365626, 16.67603269), (7.855730504, 16.215088903), (7.059989081, 16.0528))
            Line((7.059989081, 16.0528), (5.9944, 16.0528))
            ThreePointArc((5.9944, 16.0528), (4.557559021, 15.457640979), (3.9624, 14.0208))
            ThreePointArc((3.9624, 14.0208), (3.367240979, 12.583959021), (1.9304, 11.9888))
            Line((1.9304, 11.9888), (-1.9304, 11.9888))
            ThreePointArc((-1.9304, 11.9888), (-3.367240979, 12.583959021), (-3.9624, 14.0208))
            ThreePointArc((-3.9624, 14.0208), (-4.557559021, 15.457640979), (-5.9944, 16.0528))
            Line((-5.9944, 16.0528), (-7.059989081, 16.0528))
            ThreePointArc((-7.059989081, 16.0528), (-7.855730504, 16.215088903), (-8.524365626, 16.67603269))
            Line((-8.524365626, 16.67603269), (-21.71294737, 30.385216345))
            ThreePointArc((-21.71294737, 30.385216345), (-21.915614646, 31.487470712), (-20.980759097, 32.1056))
            Line((-20.980759097, 32.1056), (-5.08, 32.1056))
            ThreePointArc((-5.08, 32.1056), (-3.643159021, 32.700759021), (-3.048, 34.1376))
            Line((-3.048, 34.1376), (-3.048, 37.9984))
            ThreePointArc((-3.048, 37.9984), (-3.643159021, 39.435240979), (-5.08, 40.0304))
            Line((-5.08, 40.0304), (-39.0144, 40.0304))
            ThreePointArc((-39.0144, 40.0304), (-39.73282049, 39.73282049), (-40.0304, 39.0144))
            Line((-40.0304, 39.0144), (-40.0304, 5.08))
            ThreePointArc((-40.0304, 5.08), (-39.435240979, 3.643159021), (-37.9984, 3.048))
        make_face()
    extrude(amount=BOSS_EXTRUDE2_DEPTH, both=True)


solid = part_1.part
